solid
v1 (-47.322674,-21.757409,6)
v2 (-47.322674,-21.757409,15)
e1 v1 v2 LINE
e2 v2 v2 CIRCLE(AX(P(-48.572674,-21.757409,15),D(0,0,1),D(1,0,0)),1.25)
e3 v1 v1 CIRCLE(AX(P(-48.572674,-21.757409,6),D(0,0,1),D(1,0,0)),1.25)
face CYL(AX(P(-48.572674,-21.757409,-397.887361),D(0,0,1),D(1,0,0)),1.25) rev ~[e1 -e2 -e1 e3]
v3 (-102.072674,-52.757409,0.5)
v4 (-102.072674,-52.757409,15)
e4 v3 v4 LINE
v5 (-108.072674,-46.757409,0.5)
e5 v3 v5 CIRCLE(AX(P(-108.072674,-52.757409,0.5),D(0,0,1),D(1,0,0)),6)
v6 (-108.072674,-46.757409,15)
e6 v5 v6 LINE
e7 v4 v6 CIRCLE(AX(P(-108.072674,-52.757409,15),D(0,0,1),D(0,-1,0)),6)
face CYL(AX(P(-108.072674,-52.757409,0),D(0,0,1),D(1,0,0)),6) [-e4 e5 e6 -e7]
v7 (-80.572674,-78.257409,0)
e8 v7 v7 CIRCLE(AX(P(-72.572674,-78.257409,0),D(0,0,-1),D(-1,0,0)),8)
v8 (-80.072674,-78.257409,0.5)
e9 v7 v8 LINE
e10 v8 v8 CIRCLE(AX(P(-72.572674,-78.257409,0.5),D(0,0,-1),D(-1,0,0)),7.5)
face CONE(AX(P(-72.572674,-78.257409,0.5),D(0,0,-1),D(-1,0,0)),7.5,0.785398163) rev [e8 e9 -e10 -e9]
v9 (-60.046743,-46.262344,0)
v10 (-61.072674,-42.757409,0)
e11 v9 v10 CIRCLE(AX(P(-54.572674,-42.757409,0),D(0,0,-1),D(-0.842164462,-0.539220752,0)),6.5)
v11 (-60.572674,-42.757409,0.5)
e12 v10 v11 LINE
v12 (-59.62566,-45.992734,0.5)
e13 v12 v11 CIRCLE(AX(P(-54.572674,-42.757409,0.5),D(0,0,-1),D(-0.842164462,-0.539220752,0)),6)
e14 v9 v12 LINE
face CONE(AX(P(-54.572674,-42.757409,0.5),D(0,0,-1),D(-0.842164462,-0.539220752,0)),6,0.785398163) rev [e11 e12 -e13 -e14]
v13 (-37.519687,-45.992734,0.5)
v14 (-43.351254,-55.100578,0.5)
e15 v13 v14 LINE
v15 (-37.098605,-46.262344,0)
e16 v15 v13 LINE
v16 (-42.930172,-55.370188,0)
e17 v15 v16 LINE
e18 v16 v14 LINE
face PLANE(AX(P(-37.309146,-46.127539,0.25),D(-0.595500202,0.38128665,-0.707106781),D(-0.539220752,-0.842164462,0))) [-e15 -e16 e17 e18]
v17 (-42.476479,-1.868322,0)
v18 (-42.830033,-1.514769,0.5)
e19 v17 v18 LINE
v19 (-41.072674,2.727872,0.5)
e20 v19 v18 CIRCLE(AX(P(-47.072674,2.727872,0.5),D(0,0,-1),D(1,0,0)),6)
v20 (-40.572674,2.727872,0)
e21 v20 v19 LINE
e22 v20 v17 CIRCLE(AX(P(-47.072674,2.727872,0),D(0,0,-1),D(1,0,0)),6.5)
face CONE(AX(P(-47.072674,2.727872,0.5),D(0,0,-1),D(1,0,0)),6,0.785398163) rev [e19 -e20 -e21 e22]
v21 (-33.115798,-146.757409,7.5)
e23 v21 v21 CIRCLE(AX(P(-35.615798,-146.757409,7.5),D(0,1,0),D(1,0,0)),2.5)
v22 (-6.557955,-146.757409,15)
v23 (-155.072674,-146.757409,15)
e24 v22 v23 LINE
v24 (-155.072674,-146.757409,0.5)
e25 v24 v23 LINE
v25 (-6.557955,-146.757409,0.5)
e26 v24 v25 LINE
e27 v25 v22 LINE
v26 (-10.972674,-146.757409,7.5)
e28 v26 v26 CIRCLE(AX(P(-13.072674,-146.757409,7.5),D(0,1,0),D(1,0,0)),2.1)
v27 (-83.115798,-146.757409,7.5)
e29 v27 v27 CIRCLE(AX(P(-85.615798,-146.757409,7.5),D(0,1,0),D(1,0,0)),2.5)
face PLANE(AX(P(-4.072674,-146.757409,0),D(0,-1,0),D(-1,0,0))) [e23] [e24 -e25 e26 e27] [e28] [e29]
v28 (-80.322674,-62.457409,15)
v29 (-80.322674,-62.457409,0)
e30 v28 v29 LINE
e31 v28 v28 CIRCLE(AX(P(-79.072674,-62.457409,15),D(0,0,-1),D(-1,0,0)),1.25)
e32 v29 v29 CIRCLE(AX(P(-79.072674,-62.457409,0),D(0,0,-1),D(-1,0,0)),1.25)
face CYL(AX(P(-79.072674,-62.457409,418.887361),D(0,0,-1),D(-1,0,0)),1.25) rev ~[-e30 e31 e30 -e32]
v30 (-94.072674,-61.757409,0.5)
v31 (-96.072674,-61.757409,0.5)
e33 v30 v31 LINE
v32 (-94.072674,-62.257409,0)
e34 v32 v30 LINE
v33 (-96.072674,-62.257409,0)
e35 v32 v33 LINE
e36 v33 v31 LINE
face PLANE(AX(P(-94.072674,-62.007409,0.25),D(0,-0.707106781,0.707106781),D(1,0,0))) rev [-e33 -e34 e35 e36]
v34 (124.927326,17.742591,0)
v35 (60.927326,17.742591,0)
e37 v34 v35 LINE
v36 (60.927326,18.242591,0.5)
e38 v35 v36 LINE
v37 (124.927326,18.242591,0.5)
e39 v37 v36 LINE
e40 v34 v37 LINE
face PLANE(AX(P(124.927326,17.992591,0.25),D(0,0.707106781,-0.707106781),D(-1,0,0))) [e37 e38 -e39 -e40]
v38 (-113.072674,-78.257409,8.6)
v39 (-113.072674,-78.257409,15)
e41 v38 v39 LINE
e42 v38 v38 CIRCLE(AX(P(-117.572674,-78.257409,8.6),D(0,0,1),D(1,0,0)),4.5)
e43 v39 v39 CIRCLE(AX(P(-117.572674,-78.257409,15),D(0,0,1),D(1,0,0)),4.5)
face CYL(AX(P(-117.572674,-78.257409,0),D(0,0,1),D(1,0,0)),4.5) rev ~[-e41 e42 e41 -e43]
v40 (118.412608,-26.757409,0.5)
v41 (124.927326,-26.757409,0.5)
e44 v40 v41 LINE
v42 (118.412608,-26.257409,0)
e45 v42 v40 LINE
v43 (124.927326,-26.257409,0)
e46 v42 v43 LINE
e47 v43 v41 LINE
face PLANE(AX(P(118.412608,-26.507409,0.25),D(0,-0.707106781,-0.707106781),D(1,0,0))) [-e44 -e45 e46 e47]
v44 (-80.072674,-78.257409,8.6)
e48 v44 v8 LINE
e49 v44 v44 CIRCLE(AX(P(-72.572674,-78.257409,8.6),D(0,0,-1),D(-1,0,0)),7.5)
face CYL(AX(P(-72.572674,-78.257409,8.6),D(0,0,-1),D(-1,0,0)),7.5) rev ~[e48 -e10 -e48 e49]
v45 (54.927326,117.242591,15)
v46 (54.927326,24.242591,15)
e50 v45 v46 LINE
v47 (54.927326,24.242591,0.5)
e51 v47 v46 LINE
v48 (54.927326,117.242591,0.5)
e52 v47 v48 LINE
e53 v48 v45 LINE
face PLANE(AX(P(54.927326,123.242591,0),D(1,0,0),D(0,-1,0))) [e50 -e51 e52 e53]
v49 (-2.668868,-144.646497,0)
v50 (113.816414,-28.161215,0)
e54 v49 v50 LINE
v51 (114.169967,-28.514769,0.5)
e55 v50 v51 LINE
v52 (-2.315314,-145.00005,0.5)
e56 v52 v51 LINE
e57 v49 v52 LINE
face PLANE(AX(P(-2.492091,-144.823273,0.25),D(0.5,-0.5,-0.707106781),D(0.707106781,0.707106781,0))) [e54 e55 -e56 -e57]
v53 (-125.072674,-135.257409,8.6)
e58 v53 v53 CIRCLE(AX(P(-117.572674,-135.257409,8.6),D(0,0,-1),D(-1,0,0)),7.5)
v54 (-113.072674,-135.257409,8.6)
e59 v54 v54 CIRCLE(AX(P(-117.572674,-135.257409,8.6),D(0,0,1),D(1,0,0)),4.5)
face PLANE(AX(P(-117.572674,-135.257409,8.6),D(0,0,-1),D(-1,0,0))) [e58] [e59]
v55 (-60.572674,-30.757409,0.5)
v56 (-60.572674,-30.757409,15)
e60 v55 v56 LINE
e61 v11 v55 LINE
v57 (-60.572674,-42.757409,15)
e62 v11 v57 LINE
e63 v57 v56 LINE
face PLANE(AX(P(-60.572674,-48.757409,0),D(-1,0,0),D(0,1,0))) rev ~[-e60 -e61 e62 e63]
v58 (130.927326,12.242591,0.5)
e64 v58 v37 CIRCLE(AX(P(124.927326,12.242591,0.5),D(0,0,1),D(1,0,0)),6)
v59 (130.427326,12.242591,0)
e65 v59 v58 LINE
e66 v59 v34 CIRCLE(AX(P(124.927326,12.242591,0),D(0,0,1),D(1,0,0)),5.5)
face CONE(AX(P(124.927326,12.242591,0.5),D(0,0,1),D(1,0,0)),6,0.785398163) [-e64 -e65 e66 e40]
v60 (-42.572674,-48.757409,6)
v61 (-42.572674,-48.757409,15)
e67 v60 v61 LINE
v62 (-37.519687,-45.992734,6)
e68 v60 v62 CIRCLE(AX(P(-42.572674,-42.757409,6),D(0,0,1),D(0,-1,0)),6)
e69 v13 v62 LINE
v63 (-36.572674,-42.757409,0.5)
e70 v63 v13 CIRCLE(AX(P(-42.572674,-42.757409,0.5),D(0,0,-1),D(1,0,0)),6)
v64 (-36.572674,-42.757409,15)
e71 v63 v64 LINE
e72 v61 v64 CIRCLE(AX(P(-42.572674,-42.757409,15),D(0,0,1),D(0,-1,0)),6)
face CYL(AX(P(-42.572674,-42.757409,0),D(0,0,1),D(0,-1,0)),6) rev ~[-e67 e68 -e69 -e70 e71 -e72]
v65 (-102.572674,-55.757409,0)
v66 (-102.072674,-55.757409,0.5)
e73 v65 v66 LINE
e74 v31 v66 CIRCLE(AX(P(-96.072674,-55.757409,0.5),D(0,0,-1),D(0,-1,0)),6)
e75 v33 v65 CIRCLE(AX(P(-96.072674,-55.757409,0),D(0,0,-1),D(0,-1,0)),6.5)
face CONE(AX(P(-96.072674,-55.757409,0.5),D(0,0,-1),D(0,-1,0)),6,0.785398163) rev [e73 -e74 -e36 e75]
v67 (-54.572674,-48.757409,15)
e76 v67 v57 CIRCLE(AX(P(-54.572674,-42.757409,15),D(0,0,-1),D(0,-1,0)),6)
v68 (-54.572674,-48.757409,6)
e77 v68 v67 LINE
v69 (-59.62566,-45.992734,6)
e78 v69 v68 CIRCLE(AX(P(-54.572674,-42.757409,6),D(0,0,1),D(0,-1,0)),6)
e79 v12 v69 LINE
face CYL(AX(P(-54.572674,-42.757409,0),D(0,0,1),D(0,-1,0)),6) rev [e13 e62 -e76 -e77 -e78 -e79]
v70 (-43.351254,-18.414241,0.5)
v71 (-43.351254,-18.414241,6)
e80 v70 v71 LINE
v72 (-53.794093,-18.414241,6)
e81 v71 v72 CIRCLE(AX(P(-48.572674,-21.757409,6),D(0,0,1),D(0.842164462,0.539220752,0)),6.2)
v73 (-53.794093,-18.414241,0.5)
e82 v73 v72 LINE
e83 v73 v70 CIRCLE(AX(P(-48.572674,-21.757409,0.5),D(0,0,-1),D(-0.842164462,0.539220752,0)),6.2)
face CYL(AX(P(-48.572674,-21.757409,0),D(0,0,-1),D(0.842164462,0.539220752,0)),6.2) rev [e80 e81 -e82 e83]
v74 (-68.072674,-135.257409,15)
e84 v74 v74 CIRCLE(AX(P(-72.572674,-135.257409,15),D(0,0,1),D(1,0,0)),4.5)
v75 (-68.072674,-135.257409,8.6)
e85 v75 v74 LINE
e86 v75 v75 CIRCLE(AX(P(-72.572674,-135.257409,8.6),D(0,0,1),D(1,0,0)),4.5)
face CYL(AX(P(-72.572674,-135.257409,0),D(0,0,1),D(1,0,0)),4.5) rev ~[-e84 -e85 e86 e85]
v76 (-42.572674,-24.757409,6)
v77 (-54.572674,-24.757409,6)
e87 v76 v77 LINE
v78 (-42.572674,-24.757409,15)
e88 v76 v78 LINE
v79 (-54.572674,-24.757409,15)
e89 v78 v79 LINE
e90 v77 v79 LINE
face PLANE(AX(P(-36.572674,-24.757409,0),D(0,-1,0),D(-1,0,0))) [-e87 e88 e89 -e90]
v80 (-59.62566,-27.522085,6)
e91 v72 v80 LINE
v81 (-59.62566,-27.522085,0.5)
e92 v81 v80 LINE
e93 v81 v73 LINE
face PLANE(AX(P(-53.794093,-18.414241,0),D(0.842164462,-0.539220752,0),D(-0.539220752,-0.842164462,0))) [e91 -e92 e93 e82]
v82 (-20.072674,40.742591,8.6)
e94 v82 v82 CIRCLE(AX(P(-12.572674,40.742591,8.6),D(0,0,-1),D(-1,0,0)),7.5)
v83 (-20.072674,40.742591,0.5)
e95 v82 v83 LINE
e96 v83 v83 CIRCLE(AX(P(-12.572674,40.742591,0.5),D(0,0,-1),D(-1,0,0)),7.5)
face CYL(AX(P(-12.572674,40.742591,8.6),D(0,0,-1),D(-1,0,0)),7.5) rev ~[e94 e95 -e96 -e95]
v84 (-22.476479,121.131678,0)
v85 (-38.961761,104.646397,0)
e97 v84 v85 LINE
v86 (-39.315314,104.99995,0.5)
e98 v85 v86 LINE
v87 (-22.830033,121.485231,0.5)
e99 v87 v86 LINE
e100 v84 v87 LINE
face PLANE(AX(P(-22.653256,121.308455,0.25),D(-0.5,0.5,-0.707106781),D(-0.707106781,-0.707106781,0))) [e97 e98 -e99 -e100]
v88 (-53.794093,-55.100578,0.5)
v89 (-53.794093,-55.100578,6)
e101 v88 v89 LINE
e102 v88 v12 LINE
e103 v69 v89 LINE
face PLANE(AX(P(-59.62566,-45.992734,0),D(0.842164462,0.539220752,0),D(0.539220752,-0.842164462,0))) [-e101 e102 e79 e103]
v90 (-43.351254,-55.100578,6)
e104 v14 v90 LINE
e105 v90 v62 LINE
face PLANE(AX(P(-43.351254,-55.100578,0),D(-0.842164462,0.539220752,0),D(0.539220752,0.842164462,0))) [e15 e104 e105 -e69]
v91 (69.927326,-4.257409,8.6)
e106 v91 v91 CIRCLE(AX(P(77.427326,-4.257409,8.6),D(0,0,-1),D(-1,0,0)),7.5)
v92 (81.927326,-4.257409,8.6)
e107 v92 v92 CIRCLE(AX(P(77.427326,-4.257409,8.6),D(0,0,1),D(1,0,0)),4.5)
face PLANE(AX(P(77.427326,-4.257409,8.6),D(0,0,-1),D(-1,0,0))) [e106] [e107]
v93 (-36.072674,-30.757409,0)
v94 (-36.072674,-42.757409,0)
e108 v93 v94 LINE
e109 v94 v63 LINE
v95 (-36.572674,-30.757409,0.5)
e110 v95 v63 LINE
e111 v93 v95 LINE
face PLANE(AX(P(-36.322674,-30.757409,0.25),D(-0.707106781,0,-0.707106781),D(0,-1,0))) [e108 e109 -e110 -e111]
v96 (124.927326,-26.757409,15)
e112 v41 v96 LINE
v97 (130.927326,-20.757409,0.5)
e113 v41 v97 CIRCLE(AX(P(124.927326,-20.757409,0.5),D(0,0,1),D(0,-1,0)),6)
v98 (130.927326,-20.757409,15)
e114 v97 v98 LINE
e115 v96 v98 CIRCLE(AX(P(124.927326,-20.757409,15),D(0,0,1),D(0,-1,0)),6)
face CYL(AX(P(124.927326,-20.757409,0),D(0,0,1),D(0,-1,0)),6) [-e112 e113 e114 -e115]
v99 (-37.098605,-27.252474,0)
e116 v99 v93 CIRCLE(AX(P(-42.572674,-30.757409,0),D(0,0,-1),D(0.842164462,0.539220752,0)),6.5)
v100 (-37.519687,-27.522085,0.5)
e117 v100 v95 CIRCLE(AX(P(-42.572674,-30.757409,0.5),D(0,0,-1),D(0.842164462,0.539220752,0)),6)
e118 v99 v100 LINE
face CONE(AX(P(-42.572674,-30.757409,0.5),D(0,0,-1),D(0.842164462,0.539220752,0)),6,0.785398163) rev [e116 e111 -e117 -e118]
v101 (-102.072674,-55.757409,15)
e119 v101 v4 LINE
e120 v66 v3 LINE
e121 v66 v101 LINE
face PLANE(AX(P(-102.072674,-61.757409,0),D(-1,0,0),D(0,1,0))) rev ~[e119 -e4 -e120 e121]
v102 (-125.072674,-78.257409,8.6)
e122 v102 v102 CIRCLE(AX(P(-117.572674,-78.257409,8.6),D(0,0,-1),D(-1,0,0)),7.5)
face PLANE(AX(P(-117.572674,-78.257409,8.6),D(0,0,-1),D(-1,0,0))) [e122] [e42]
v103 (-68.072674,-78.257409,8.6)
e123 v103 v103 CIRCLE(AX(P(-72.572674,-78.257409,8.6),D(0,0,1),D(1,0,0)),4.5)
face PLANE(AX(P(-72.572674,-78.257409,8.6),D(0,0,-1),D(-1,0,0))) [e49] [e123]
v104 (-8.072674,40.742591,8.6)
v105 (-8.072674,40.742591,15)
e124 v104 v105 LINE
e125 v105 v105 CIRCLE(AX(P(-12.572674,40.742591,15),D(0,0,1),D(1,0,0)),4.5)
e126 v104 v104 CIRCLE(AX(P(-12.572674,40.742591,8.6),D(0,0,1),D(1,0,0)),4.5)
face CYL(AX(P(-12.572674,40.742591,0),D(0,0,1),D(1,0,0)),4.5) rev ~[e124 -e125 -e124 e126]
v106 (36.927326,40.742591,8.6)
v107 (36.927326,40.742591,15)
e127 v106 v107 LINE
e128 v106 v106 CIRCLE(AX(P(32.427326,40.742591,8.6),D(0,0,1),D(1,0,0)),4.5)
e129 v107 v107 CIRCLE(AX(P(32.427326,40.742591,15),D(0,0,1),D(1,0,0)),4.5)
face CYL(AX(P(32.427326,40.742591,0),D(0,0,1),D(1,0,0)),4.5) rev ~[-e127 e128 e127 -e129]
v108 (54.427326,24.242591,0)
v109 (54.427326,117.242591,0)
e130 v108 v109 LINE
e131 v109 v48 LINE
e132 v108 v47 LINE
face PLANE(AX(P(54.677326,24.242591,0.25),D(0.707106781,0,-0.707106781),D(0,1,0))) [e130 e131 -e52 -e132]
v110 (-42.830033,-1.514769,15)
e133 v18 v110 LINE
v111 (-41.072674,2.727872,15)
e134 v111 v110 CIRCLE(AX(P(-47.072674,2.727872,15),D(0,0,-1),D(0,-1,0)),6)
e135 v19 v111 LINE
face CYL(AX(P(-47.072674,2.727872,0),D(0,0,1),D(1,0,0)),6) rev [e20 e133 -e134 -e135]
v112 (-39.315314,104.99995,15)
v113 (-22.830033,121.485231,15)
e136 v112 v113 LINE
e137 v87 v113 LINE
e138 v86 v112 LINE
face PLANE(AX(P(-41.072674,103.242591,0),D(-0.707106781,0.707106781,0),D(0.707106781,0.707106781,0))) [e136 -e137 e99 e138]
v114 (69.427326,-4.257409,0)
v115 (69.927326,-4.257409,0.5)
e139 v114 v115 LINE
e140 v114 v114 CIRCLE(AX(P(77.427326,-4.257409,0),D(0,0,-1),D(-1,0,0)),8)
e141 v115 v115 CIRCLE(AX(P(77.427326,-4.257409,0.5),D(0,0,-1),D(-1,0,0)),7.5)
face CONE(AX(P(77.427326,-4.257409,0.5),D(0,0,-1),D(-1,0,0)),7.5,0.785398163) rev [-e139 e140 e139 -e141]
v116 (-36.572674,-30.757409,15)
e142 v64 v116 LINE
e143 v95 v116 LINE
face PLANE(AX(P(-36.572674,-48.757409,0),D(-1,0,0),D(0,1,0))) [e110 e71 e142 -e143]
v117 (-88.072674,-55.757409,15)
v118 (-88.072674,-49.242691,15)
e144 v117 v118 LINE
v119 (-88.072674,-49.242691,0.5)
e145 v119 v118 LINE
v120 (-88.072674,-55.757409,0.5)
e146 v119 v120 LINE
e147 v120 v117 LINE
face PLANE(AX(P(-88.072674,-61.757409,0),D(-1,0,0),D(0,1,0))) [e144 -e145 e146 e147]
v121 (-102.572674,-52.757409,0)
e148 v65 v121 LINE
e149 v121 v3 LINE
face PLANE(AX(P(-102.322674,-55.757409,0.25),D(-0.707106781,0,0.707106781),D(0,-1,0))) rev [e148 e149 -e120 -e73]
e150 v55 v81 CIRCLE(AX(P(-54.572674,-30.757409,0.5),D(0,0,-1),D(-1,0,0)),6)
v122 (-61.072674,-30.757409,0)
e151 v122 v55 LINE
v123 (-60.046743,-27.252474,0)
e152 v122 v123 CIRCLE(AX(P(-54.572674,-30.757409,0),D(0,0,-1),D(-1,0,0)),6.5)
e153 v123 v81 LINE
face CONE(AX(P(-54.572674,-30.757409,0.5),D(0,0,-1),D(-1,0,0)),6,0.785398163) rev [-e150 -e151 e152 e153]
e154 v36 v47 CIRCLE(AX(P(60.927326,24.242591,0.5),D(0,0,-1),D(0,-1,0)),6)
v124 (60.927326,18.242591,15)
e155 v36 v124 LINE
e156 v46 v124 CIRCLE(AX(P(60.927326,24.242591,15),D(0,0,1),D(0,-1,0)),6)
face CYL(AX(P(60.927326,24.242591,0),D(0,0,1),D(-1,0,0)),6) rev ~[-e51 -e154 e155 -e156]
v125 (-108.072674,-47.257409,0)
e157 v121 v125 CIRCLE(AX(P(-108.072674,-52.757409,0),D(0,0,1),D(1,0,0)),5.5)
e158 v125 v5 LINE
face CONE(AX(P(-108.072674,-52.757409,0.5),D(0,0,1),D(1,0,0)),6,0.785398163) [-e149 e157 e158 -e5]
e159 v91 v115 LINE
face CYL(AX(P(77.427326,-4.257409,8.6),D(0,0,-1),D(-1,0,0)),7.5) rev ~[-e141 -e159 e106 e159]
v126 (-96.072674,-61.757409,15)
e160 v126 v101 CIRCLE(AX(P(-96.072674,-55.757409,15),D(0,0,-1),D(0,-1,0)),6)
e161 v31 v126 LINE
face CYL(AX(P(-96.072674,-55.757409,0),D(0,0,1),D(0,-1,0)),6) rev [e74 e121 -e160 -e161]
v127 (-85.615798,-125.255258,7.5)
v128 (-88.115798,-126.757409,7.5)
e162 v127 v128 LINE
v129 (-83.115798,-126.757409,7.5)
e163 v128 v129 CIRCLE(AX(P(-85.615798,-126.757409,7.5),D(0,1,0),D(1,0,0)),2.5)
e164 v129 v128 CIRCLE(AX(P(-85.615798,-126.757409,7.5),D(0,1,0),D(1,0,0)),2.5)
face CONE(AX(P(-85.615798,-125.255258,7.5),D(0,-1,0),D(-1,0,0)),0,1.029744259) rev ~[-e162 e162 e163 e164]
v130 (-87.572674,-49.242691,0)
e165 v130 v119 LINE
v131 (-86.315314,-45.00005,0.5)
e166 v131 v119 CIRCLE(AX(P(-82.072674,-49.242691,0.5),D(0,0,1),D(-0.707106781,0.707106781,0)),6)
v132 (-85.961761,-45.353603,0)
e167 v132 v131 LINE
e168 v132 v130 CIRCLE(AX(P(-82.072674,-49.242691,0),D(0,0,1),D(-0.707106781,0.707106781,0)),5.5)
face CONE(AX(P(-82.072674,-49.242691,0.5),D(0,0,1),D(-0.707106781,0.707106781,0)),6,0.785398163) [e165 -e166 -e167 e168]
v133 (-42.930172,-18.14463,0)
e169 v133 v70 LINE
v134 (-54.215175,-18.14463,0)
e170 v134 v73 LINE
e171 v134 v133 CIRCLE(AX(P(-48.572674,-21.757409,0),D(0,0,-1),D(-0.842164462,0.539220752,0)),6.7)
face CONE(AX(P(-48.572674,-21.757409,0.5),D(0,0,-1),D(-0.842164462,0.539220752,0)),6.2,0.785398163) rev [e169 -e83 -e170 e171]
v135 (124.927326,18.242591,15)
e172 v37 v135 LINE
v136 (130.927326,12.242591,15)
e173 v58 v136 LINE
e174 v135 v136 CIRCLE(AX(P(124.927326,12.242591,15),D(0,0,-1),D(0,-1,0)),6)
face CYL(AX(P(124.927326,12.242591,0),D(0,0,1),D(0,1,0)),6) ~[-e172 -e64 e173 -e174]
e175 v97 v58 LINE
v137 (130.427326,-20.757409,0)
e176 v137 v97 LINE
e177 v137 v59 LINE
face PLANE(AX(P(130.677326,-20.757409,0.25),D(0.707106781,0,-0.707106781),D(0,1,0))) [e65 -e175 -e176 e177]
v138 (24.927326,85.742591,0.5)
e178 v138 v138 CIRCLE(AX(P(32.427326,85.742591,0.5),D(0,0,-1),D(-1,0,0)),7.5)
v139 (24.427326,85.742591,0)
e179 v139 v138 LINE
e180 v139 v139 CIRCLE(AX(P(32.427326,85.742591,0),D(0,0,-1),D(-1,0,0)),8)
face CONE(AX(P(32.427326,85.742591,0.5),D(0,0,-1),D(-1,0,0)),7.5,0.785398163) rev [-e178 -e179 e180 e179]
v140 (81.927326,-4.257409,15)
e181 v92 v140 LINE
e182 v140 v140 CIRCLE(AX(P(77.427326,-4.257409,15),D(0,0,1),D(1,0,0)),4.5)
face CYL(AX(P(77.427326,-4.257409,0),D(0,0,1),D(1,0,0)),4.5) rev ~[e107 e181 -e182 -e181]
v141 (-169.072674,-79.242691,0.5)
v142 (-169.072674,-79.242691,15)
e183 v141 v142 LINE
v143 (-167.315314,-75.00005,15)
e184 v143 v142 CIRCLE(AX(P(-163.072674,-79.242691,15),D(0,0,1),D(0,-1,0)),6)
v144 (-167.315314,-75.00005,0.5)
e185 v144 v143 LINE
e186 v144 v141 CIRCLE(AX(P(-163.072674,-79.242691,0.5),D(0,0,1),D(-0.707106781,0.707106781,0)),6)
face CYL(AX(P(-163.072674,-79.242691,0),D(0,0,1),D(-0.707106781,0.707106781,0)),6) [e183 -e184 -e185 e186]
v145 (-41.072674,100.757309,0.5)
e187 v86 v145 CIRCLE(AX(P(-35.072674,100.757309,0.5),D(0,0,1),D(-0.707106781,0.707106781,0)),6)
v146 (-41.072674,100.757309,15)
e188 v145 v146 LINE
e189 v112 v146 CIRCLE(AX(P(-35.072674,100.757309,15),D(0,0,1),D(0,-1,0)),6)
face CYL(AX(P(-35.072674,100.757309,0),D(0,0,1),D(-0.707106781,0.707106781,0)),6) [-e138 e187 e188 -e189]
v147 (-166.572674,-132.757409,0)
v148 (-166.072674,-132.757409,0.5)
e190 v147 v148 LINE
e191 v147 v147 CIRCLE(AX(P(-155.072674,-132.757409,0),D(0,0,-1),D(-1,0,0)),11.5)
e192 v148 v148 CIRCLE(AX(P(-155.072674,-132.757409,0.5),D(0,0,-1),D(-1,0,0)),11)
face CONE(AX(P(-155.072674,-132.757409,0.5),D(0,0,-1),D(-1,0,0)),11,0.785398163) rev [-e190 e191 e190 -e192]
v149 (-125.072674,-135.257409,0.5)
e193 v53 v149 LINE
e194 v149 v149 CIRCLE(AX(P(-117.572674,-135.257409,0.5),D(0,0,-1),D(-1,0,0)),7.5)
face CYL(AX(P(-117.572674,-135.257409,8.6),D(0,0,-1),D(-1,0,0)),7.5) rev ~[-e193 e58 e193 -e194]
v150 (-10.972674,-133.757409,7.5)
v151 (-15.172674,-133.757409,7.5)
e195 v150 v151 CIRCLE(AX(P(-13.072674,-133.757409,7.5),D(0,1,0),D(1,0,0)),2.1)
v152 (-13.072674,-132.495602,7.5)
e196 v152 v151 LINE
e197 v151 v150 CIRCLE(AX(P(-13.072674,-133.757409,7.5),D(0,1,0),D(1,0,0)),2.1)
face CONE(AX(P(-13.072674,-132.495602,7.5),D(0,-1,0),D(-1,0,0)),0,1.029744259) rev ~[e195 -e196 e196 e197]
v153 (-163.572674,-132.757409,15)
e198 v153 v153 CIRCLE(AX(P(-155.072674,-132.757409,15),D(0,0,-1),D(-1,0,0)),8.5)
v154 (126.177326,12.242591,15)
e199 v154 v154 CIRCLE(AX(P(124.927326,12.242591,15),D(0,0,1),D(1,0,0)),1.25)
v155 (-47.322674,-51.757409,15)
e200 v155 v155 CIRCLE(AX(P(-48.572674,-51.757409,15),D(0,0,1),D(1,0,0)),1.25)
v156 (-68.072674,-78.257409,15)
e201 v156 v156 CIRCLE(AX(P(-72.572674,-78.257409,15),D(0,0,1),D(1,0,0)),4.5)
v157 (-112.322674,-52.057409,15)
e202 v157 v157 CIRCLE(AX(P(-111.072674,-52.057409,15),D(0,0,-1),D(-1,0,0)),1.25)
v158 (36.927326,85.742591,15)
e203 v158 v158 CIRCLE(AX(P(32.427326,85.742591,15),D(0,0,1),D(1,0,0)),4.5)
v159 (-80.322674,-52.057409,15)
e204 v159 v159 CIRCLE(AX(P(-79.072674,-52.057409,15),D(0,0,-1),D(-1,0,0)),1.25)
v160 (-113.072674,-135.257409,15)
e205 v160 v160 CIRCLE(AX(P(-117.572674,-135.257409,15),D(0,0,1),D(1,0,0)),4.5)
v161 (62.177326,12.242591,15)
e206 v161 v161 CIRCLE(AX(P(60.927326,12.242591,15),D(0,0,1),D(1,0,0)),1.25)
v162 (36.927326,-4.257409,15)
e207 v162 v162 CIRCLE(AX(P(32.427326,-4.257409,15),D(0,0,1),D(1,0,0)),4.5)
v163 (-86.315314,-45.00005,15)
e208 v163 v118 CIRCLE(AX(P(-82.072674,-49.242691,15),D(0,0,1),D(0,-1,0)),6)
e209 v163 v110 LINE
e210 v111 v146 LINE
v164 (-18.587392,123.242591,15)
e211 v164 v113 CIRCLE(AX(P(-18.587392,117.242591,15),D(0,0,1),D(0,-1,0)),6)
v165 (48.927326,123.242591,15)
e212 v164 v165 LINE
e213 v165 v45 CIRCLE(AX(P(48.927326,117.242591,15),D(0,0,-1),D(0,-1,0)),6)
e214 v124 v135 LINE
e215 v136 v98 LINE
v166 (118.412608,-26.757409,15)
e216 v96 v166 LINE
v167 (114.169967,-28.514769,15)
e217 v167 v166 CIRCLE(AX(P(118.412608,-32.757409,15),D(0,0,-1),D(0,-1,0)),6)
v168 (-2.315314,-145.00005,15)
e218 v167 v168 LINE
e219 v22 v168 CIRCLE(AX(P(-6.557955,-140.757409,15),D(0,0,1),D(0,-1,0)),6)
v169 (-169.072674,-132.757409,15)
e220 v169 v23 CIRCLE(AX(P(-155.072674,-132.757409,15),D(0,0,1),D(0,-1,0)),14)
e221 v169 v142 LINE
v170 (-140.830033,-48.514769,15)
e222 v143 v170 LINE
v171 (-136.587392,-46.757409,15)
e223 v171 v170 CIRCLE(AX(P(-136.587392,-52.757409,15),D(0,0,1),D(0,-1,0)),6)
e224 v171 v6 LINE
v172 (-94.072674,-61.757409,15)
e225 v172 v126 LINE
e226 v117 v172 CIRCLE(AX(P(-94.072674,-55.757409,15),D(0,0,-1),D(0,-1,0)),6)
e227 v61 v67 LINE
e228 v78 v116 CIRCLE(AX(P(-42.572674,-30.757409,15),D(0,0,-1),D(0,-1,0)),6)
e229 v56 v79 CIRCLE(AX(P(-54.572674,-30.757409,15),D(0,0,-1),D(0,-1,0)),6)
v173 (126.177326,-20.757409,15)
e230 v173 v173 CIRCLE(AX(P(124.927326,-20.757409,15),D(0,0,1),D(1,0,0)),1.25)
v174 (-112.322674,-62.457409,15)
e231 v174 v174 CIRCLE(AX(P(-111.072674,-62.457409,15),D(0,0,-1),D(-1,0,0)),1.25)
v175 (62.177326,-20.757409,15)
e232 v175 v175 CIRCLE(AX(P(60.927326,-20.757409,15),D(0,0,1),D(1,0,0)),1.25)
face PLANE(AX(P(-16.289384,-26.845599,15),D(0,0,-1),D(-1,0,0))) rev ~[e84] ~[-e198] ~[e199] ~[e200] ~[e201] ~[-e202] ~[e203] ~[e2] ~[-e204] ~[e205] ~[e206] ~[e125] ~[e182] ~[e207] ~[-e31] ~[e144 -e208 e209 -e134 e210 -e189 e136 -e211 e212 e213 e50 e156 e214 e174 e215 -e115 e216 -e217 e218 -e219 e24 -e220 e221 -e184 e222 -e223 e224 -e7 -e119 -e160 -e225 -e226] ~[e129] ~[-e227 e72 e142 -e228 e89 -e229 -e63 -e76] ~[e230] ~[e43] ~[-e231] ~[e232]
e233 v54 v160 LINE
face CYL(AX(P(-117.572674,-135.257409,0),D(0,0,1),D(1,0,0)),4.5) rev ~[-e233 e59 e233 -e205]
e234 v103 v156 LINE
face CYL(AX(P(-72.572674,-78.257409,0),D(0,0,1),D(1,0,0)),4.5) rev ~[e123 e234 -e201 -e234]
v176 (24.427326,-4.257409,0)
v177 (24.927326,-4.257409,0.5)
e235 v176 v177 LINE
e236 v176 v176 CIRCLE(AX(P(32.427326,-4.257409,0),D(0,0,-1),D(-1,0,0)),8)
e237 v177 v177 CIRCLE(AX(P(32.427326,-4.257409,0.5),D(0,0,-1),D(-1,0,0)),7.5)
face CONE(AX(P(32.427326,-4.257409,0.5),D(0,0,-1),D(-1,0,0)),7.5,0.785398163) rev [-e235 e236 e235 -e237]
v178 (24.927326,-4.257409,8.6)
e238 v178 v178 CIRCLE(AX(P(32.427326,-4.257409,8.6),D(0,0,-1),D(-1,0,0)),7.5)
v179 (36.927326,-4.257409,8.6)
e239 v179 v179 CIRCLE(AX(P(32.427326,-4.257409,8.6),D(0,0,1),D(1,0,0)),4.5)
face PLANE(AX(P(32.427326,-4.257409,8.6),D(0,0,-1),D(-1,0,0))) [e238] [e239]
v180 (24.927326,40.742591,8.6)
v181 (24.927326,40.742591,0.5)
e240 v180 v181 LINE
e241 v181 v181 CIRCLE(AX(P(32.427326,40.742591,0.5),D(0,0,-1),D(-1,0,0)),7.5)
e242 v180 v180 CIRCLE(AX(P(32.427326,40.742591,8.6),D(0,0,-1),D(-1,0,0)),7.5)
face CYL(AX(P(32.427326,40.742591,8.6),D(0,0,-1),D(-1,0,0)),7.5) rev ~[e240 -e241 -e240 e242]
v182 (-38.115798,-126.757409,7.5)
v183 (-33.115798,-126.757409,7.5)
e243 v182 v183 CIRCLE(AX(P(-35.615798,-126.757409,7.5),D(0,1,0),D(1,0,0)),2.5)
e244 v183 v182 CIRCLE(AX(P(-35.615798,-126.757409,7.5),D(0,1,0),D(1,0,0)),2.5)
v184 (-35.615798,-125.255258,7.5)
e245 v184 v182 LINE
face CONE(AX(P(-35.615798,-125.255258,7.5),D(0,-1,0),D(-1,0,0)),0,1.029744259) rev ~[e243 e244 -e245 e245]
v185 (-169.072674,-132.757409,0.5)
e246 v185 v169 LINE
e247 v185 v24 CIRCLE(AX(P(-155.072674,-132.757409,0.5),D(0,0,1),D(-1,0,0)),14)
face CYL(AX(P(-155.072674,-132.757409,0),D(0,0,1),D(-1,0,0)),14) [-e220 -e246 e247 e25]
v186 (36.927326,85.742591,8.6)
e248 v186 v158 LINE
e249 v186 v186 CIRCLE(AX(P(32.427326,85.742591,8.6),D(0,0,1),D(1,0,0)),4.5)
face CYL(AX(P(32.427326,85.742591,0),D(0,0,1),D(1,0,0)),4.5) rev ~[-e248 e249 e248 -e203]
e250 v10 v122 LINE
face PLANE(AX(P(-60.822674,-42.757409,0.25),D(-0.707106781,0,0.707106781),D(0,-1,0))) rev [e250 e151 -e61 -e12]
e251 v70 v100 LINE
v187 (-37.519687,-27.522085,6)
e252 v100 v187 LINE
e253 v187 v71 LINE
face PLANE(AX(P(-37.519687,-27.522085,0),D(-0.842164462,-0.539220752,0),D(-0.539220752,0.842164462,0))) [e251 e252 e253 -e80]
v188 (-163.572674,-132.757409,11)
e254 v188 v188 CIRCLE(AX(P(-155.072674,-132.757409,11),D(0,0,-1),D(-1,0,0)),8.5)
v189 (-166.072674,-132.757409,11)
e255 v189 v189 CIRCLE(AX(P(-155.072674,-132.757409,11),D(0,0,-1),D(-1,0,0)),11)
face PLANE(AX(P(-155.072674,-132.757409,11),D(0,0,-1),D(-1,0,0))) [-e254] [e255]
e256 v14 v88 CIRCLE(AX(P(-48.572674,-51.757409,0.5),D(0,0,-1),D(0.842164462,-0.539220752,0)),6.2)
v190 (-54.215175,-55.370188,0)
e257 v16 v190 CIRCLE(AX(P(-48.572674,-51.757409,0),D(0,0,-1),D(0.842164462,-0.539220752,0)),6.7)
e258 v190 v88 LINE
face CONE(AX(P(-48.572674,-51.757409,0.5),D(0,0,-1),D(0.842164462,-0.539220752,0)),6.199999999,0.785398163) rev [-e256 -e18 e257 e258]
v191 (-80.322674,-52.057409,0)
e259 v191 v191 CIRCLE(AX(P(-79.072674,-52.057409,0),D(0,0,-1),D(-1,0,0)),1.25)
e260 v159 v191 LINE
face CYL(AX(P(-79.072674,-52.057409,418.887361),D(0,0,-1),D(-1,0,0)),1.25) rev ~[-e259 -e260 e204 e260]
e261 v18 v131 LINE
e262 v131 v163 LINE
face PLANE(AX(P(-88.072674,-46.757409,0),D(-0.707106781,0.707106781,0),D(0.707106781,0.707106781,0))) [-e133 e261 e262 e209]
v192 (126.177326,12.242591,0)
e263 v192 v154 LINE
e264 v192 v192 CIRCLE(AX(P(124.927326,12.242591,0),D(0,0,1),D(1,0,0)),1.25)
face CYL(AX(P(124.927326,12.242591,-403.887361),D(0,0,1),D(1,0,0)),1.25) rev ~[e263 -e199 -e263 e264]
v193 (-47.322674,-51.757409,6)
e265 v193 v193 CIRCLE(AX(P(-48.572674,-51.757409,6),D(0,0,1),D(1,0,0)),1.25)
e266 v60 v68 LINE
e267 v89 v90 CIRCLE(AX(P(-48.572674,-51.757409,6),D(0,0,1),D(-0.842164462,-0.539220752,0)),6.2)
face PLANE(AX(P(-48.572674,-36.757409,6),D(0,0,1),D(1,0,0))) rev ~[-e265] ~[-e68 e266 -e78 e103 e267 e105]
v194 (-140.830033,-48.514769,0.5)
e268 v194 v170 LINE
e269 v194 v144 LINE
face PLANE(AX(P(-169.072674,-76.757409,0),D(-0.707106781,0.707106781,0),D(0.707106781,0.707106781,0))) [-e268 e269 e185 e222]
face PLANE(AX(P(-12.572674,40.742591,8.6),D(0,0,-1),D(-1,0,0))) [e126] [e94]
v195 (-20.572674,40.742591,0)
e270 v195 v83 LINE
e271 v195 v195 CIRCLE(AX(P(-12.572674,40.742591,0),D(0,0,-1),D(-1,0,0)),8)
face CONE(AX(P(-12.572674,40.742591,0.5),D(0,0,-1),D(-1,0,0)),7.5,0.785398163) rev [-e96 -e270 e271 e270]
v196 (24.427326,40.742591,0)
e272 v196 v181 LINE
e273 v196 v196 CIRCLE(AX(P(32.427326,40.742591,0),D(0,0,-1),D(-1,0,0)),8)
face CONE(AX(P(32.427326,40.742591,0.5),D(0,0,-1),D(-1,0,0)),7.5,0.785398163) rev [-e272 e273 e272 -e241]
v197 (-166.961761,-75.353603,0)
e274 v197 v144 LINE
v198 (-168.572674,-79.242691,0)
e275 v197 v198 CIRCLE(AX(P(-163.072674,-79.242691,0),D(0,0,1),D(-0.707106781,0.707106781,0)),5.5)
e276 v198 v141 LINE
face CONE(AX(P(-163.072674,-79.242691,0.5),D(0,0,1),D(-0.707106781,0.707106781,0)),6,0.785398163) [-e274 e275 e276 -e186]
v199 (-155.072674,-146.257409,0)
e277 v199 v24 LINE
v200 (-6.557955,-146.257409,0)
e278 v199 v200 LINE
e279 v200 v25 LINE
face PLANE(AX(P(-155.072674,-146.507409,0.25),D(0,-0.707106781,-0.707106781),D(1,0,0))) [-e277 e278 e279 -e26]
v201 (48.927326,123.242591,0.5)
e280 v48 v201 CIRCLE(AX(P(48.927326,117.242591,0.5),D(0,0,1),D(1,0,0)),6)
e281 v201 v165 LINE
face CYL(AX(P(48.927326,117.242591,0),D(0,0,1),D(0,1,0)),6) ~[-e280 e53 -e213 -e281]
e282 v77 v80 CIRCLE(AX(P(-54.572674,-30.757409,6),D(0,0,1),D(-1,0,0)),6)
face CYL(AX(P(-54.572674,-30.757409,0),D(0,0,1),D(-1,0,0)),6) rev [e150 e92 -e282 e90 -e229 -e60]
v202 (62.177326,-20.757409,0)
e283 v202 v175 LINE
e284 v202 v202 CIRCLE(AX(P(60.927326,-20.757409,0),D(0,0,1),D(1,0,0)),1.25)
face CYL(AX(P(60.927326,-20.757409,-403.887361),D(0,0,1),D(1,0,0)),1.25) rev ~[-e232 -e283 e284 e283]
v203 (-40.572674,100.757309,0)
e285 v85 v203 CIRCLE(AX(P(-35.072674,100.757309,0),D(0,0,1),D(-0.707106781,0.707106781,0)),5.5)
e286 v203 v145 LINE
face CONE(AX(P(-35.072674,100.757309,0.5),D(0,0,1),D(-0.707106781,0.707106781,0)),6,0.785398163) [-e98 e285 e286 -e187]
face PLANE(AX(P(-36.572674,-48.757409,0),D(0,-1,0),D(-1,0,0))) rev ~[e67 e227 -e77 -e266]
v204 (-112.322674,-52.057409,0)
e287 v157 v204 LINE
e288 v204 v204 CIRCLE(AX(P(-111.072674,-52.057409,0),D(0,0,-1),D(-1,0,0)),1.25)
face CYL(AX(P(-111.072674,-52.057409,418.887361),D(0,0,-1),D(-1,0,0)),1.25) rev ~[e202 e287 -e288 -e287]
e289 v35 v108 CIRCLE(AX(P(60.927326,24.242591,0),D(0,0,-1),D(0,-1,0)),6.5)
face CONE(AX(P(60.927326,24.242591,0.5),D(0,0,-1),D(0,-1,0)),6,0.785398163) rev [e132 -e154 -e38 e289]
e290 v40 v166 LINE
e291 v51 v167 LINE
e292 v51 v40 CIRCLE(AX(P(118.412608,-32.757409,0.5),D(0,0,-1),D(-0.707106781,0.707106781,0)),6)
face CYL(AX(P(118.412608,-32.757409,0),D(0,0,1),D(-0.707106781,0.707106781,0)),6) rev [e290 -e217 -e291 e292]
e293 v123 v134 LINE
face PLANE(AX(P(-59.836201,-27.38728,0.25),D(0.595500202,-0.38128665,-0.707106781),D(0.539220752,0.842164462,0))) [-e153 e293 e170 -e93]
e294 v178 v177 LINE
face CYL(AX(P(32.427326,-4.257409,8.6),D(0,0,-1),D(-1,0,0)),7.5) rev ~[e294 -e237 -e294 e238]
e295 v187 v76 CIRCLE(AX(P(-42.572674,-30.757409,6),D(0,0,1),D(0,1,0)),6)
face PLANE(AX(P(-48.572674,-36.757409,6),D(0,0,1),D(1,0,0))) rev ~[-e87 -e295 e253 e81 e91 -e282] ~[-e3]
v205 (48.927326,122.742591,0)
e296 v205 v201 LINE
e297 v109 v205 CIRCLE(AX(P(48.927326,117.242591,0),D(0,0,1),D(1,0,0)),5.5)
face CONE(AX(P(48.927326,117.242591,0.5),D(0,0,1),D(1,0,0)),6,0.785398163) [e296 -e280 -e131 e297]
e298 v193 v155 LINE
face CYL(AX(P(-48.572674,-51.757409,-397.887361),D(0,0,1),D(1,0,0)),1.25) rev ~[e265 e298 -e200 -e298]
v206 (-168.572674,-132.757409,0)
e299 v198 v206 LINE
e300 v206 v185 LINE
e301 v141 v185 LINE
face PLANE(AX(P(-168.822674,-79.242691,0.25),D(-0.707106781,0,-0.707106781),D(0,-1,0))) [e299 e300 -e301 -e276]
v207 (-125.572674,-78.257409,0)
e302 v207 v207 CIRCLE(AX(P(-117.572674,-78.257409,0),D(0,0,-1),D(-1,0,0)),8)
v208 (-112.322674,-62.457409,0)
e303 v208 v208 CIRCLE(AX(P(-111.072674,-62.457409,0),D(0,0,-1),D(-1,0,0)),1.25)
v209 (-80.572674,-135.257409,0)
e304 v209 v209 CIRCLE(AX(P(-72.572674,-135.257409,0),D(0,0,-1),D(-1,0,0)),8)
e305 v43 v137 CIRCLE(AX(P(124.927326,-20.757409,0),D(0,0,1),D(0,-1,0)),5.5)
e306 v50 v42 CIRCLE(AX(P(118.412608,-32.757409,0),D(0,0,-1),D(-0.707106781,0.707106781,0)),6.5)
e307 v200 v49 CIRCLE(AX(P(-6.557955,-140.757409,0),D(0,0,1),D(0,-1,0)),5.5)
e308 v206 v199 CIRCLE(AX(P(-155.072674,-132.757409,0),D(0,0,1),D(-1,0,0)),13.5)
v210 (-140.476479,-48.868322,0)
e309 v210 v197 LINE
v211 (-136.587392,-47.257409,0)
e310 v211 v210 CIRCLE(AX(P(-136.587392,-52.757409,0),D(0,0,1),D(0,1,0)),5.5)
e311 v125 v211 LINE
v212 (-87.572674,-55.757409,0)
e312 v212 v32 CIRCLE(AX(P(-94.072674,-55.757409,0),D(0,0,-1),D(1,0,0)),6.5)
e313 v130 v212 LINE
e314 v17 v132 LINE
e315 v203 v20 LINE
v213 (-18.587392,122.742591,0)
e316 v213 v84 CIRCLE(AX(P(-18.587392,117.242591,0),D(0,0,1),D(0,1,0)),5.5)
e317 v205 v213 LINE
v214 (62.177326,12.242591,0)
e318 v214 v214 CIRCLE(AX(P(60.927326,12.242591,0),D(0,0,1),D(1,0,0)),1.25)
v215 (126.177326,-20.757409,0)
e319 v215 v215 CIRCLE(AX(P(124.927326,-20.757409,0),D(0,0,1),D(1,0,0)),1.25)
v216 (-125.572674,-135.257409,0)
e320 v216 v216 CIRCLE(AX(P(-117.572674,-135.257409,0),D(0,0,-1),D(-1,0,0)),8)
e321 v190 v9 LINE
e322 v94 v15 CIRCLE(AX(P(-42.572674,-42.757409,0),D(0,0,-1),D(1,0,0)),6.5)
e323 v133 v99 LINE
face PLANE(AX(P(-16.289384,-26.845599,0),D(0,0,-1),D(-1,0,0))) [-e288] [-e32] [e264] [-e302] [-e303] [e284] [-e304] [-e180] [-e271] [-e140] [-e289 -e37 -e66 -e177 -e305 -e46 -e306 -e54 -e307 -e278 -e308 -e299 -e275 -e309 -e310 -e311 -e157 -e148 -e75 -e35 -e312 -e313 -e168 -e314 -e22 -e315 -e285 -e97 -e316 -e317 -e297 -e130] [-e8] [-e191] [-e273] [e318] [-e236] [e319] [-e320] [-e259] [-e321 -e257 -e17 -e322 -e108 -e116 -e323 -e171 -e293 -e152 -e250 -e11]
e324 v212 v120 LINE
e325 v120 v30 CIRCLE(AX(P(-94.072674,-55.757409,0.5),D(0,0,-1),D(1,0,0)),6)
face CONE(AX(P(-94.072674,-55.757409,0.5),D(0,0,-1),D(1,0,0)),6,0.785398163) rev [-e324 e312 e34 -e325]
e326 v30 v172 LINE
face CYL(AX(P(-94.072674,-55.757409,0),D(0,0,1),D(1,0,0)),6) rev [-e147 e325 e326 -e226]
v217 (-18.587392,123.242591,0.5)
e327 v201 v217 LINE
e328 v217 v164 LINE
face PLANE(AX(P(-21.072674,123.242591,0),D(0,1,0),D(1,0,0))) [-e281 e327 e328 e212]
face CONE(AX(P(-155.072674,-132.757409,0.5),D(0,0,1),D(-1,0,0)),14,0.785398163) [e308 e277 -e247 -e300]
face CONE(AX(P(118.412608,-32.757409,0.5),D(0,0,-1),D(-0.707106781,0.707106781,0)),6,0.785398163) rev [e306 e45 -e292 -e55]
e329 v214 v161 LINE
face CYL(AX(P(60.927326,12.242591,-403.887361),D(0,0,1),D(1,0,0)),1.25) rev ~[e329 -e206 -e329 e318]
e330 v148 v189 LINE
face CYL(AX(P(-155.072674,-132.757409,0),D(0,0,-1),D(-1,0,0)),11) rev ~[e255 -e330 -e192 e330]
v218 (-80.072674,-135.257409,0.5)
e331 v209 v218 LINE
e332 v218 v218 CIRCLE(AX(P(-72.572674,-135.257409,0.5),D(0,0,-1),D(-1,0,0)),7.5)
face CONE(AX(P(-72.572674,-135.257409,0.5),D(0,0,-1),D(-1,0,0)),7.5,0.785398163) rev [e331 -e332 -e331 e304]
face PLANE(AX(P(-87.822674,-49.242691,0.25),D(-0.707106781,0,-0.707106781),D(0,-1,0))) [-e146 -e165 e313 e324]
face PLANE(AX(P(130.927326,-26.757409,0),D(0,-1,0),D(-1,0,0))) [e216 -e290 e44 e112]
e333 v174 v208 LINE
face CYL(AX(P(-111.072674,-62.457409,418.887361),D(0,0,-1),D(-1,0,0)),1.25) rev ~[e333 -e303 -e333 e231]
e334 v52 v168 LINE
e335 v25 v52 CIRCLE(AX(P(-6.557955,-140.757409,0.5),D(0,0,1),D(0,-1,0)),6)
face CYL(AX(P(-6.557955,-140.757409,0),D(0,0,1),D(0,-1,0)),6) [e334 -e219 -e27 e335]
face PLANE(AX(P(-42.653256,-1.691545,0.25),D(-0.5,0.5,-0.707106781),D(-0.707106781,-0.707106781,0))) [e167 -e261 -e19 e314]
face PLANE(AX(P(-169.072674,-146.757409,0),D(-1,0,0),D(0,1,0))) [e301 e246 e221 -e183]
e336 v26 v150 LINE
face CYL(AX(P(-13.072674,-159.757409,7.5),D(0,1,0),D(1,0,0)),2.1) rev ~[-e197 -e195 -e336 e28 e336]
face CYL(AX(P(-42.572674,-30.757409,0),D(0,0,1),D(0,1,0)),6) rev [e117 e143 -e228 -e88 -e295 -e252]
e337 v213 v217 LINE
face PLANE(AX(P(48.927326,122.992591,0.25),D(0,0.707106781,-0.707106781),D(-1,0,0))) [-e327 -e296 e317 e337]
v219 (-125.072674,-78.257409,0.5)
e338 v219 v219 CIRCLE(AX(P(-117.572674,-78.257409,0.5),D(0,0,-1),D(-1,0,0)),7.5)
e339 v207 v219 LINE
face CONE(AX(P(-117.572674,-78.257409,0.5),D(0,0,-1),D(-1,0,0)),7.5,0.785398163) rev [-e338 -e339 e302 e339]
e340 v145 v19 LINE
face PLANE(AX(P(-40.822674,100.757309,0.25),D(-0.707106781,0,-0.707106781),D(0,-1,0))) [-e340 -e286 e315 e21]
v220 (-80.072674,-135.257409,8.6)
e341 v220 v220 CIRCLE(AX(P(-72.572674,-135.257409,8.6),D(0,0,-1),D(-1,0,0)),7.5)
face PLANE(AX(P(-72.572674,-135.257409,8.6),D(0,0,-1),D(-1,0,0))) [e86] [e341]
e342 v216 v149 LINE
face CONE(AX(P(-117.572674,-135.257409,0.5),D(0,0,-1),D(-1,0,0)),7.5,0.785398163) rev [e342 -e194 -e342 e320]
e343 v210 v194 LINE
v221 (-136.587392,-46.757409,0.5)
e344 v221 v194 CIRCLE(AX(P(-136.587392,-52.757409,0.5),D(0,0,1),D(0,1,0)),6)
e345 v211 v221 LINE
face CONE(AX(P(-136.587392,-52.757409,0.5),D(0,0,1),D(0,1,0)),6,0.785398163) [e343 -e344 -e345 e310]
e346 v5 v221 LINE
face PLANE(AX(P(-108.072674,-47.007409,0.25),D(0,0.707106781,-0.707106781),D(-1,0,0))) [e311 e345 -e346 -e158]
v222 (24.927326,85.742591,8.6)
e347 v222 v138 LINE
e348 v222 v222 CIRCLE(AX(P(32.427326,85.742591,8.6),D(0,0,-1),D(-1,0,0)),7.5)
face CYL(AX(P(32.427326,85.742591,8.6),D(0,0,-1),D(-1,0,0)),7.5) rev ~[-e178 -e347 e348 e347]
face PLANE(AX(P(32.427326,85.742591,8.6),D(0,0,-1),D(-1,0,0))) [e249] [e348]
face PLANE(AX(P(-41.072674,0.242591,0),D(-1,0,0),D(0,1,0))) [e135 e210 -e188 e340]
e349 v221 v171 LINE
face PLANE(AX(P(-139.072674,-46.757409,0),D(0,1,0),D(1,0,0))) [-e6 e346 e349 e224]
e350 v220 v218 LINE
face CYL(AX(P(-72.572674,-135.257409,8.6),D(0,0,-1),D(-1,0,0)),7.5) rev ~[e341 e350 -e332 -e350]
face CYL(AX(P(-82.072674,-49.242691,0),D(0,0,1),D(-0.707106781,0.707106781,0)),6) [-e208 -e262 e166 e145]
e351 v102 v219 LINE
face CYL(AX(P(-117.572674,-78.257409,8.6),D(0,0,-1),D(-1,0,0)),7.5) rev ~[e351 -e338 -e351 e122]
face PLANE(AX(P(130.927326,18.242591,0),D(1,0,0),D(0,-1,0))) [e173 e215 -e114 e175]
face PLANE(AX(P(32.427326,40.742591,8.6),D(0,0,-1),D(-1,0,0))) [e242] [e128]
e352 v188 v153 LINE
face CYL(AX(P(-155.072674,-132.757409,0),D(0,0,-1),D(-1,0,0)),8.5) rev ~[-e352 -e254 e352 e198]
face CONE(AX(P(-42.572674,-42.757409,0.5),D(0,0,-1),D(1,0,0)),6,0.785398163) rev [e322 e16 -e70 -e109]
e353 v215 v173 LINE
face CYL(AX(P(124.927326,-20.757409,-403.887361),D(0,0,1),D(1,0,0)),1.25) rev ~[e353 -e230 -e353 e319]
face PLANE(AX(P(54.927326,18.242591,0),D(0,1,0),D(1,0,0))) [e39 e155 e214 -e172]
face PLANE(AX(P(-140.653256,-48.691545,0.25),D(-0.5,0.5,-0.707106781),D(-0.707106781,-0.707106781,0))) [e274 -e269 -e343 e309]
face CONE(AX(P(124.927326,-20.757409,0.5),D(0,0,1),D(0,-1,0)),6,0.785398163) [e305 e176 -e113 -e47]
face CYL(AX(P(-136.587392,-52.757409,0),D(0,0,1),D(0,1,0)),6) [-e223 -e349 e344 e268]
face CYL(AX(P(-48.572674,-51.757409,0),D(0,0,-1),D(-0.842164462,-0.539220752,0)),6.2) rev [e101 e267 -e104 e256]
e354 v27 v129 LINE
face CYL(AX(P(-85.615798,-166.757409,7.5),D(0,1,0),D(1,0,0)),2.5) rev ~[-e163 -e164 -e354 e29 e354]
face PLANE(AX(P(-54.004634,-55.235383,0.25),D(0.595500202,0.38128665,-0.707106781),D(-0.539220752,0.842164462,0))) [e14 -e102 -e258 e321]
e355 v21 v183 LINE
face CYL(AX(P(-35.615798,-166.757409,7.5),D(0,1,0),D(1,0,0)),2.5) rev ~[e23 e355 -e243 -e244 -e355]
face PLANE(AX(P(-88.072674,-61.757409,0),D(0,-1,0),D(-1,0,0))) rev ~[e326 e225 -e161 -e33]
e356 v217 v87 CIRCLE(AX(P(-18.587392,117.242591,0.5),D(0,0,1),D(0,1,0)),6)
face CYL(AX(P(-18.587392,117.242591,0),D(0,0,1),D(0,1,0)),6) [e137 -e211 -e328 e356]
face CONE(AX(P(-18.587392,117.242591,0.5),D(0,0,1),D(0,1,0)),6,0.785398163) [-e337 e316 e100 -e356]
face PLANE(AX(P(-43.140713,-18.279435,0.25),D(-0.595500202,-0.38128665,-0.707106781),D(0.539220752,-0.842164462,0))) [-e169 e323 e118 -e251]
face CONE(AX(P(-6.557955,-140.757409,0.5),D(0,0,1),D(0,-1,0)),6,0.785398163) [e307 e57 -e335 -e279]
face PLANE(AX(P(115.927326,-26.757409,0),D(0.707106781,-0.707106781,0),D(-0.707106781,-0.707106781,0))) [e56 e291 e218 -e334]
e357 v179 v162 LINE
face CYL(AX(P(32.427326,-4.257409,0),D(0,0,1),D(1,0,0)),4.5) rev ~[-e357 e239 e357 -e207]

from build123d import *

# Parameters (mm, degrees)
BOSS_EXTRU_1_DEPTH                                 = 15
CHAMBRAGE_POUR_VIS_T_TE_HEXAGONALE_M81_D           = 9
CHAMBRAGE_POUR_VIS_T_TE_HEXAGONALE_M81_CBORE_D     = 15
CHAMBRAGE_POUR_VIS_T_TE_HEXAGONALE_M81_CBORE_DEPTH = 8.6
TAP_DRILL_FOR_M5_TAP1_D                            = 4.2
TAP_DRILL_FOR_M5_TAP1_DEPTH                        = 13
TAP_DRILL_FOR_M5_TAP1_TIP                          = 1.2618073
SKETCH25_W                                         = 14
SKETCH25_H                                         = 15
CUT_EXTRUDE6_DEPTH                                 = 16
CONG_1_R                                           = 6
SKETCH11_R                                         = 8.5
CUT_EXTRUDE1_DEPTH                                 = 16
SKETCH12_R                                         = 11
CUT_EXTRUDE2_DEPTH                                 = 11
SKETCH13_W                                         = 24
SKETCH13_H                                         = 24
CUT_EXTRUDE3_DEPTH                                 = 16
FILLET1_R                                          = 6
CUT_EXTRUDE4_DEPTH                                 = 6
FILLET3_R                                          = 14
TAP_DRILL_FOR_M3_TAP1_D                            = 2.5
CHAMFER1_SIZE                                      = 0.5
TAP_DRILL_FOR_M3_TAP2_D                            = 2.5
TAP_DRILL_FOR_M3_TAP3_D                            = 2.5
TROU_POUR_TARAUDAGE_POUR_TROU_TARAUD_M6_D          = 5
TROU_POUR_TARAUDAGE_POUR_TROU_TARAUD_M6_DEPTH      = 20
TROU_POUR_TARAUDAGE_POUR_TROU_TARAUD_M6_TIP        = 1.502151548


with BuildPart() as part:
    # Esquisse1 → Boss.-Extru.1 (new body)
    with BuildSketch(Plane.XY):
        Polygon((-21.072673536, 123.242590707), (54.927326464, 123.242590707), (54.927326464, 18.242590707), (130.927326464, 18.242590707), (130.927326464, -26.757409293), (115.927326464, -26.757409293), (-4.072673536, -146.757409293), (-169.072673536, -146.757409293), (-169.072673536, -76.757409293), (-139.072673536, -46.757409293), (-88.072673536, -46.757409293), (-41.072673536, 0.242590707), (-41.072673536, 103.242590707), align=None)
    extrude(amount=BOSS_EXTRU_1_DEPTH)

    # Chambrage pour vis à tête hexagonale M81 (through all)
    with Locations(Plane(origin=(0, 0, 0), x_dir=(-1, 0, 0), z_dir=(0, 0, -1))):
        with Locations((72.572673536, -78.257409293), (117.572673536, -78.257409293), (72.572673536, -135.257409293), (117.572673536, -135.257409293), (-32.427326464, 85.742590707), (-32.427326464, 40.742590707), (-32.427326464, -4.257409293), (-77.427326464, -4.257409293), (12.572673536, 40.742590707)):
            CounterBoreHole(CHAMBRAGE_POUR_VIS_T_TE_HEXAGONALE_M81_D / 2, CHAMBRAGE_POUR_VIS_T_TE_HEXAGONALE_M81_CBORE_D / 2, CHAMBRAGE_POUR_VIS_T_TE_HEXAGONALE_M81_CBORE_DEPTH)

    # Tap Drill for M5 Tap1
    with Locations(Plane(origin=(0, -146.757409293, 0), x_dir=(-1, 0, 0), z_dir=(0, -1, 0))):
        with Locations((13.072673536, -7.5)):
            Hole(TAP_DRILL_FOR_M5_TAP1_D / 2, depth=TAP_DRILL_FOR_M5_TAP1_DEPTH)
            with Locations((0, 0, -(TAP_DRILL_FOR_M5_TAP1_DEPTH + TAP_DRILL_FOR_M5_TAP1_TIP / 2))):  # 118° drill point
                Cone(0, TAP_DRILL_FOR_M5_TAP1_D / 2, TAP_DRILL_FOR_M5_TAP1_TIP, mode=Mode.SUBTRACT)

    # Sketch25 → Cut-Extrude6 (cut, through all)
    with BuildSketch(Plane(origin=(0, 0, 0), x_dir=(-1, 0, 0), z_dir=(0, 0, -1))):
        with Locations((95.072673536, -54.257409293)):
            Rectangle(SKETCH25_W, SKETCH25_H)
    extrude(amount=-CUT_EXTRUDE6_DEPTH, mode=Mode.SUBTRACT)

    # Congé1
    cong_1_edges = [part.edges().sort_by_distance(p)[0] for p in [
        (-88.072673536, -61.757409293, 7.5),
        (-102.072673536, -46.757409293, 7.5),
        (-102.072673536, -61.757409293, 7.5),
        (54.927326464, 18.242590707, 7.5),
        (130.927326464, 18.242590707, 7.5),
        (130.927326464, -26.757409293, 7.5),
        (115.927326464, -26.757409293, 7.5),
        (-4.072673536, -146.757409293, 7.5),
        (-169.072673536, -76.757409293, 7.5),
        (-139.072673536, -46.757409293, 7.5),
        (-88.072673536, -46.757409293, 7.5),
        (-41.072673536, 0.242590707, 7.5),
        (-41.072673536, 103.242590707, 7.5),
        (-21.072673536, 123.242590707, 7.5),
        (54.927326464, 123.242590707, 7.5),
    ]]
    fillet(cong_1_edges, radius=CONG_1_R)

    # Sketch11 → Cut-Extrude1 (cut, through all)
    with BuildSketch(Plane(origin=(0, 0, 0), x_dir=(-1, 0, 0), z_dir=(0, 0, -1))):
        with Locations((155.072673536, -132.757409293)):
            Circle(SKETCH11_R)
    extrude(amount=-CUT_EXTRUDE1_DEPTH, mode=Mode.SUBTRACT)

    # Sketch12 → Cut-Extrude2 (cut)
    with BuildSketch(Plane(origin=(0, 0, 0), x_dir=(-1, 0, 0), z_dir=(0, 0, -1))):
        with Locations((155.072673536, -132.757409293)):
            Circle(SKETCH12_R)
    extrude(amount=-CUT_EXTRUDE2_DEPTH, mode=Mode.SUBTRACT)

    # Sketch13 → Cut-Extrude3 (cut, through all)
    with BuildSketch(Plane(origin=(0, 0, 0), x_dir=(-1, 0, 0), z_dir=(0, 0, -1))):
        with Locations((48.572673536, -36.757409293)):
            Rectangle(SKETCH13_W, SKETCH13_H)
    extrude(amount=-CUT_EXTRUDE3_DEPTH, mode=Mode.SUBTRACT)

    # Fillet1
    fillet1_edges = [part.edges().sort_by_distance(p)[0] for p in [
        (-36.572673536, -48.757409293, 7.5),
        (-36.572673536, -24.757409293, 7.5),
        (-60.572673536, -24.757409293, 7.5),
        (-60.572673536, -48.757409293, 7.5),
    ]]
    fillet(fillet1_edges, radius=FILLET1_R)

    # Sketch14 → Cut-Extrude4 (cut)
    with BuildSketch(Plane(origin=(0, 0, 0), x_dir=(-1, 0, 0), z_dir=(0, 0, -1))):
        with BuildLine():
            Line((53.794093198, -18.414240629), (59.625660306, -27.52208478))
            ThreePointArc((59.625660306, -27.52208478), (60.33105528, -29.071870895), (60.572673536, -30.757409293))
            Line((60.572673536, -30.757409293), (60.572673536, -42.757409293))
            ThreePointArc((60.572673536, -42.757409293), (60.33105528, -44.442947691), (59.625660306, -45.992733806))
            Line((59.625660306, -45.992733806), (53.794093198, -55.100577956))
            ThreePointArc((53.794093198, -55.100577956), (48.572673536, -57.957409293), (43.351253874, -55.100577956))
            Line((43.351253874, -55.100577956), (37.519686767, -45.992733806))
            ThreePointArc((37.519686767, -45.992733806), (36.814291792, -44.442947691), (36.572673536, -42.757409293))
            Line((36.572673536, -42.757409293), (36.572673536, -30.757409293))
            ThreePointArc((36.572673536, -30.757409293), (36.814291792, -29.071870895), (37.519686767, -27.52208478))
            Line((37.519686767, -27.52208478), (43.351253874, -18.414240629))
            ThreePointArc((43.351253874, -18.414240629), (48.572673536, -15.557409293), (53.794093198, -18.414240629))
        make_face()
    extrude(amount=-CUT_EXTRUDE4_DEPTH, mode=Mode.SUBTRACT)

    # Fillet3
    fillet3_edges = [part.edges().sort_by_distance(p)[0] for p in [
        (-169.072673536, -146.757409293, 7.5),
    ]]
    fillet(fillet3_edges, radius=FILLET3_R)

    # Tap Drill for M3 Tap1 (through all)
    with Locations(Plane(origin=(0, 0, 6), x_dir=(-1, 0, 0), z_dir=(0, 0, -1))):
        with Locations((48.572673536, -21.757409293), (48.572673536, -51.757409293)):
            Hole(TAP_DRILL_FOR_M3_TAP1_D / 2)

    # Chamfer1
    chamfer1_edges = [part.edges().sort_by_distance(p)[0] for p in [
        (-102.072673536, -54.257409293, 0),
        (-95.072673536, -61.757409293, 0),
        (-88.072673536, -52.50004998, 0),
        (-122.330032849, -46.757409293, 0),
        (-64.572673536, -23.257409293, 0),
        (-41.072673536, 51.742590707, 0),
        (-31.072673536, 113.242590707, 0),
        (15.169967151, 123.242590707, 0),
        (54.927326464, 70.742590707, 0),
        (92.927326464, 18.242590707, 0),
        (130.927326464, -4.257409293, 0),
        (121.669967151, -26.757409293, 0),
        (55.927326464, -86.757409293, 0),
        (-169.072673536, -106.00004998, 0),
        (-154.072673536, -61.757409293, 0),
        (53.169967151, 121.485231394, 0),
        (-20.883492756, 122.785867902, 0),
        (-138.883492756, -47.214132098, 0),
        (-168.615950731, -76.946590073, 0),
        (-40.615950731, 103.053409927, 0),
        (129.169967151, 16.485231394, 0),
        (129.169967151, -25.00004998, 0),
        (-4.261854316, -146.300686488, 0),
        (-87.615950731, -46.946590073, 0),
        (-103.830032849, -48.514768606, 0),
        (-100.315314223, -60.00004998, 0),
        (-89.830032849, -60.00004998, 0),
        (116.116507244, -27.214132098, 0),
        (-41.529396341, 0.431771487, 0),
        (56.684685777, 19.99995002, 0),
        (-144.072673536, -132.757409293, 0),
        (-60.572673536, -36.757409293, 0),
        (-36.572673536, -36.757409293, 0),
        (-60.33105528, -44.442947691, 0),
        (-36.814291792, -29.071870895, 0),
        (-60.33105528, -29.071870895, 0),
        (-36.814291792, -44.442947691, 0),
        (-56.709876752, -50.546655881, 0),
        (-40.43547032, -50.546655881, 0),
        (-48.572673536, -57.957409293, 0),
        (-40.43547032, -22.968162704, 0),
        (-56.709876752, -22.968162704, 0),
        (-48.572673536, -15.557409293, 0),
        (-80.815314223, -146.757409293, 0),
        (-164.972168473, -142.656904229, 0),
        (-5.072673536, 40.742590707, 0),
        (84.927326464, -4.257409293, 0),
        (39.927326464, -4.257409293, 0),
        (39.927326464, 40.742590707, 0),
        (39.927326464, 85.742590707, 0),
        (-110.072673536, -135.257409293, 0),
        (-65.072673536, -135.257409293, 0),
        (-110.072673536, -78.257409293, 0),
        (-65.072673536, -78.257409293, 0),
    ]]
    chamfer(chamfer1_edges, length=CHAMFER1_SIZE)

    # Tap Drill for M3 Tap2 (through all)
    with Locations(Plane(origin=(0, 0, 0), x_dir=(-1, 0, 0), z_dir=(0, 0, -1))):
        with Locations((-124.927326464, 12.242590707), (-124.927326464, -20.757409293), (-60.927326464, 12.242590707), (-60.927326464, -20.757409293)):
            Hole(TAP_DRILL_FOR_M3_TAP2_D / 2)

    # Tap Drill for M3 Tap3 (through all)
    with Locations(Plane.XY.offset(15)):
        with Locations((-111.072673536, -52.057409293), (-111.072673536, -62.457409293), (-79.072673536, -62.457409293), (-79.072673536, -52.057409293)):
            Hole(TAP_DRILL_FOR_M3_TAP3_D / 2)

    # Trou pour taraudage pour trou taraudé M61
    with Locations(Plane(origin=(0, -146.757409293, 0), x_dir=(-1, 0, 0), z_dir=(0, -1, 0))):
        with Locations((35.615798493, -7.5), (85.615798493, -7.5)):
            Hole(TROU_POUR_TARAUDAGE_POUR_TROU_TARAUD_M6_D / 2, depth=TROU_POUR_TARAUDAGE_POUR_TROU_TARAUD_M6_DEPTH)
            with Locations((0, 0, -(TROU_POUR_TARAUDAGE_POUR_TROU_TARAUD_M6_DEPTH + TROU_POUR_TARAUDAGE_POUR_TROU_TARAUD_M6_TIP / 2))):  # 118° drill point
                Cone(0, TROU_POUR_TARAUDAGE_POUR_TROU_TARAUD_M6_D / 2, TROU_POUR_TARAUDAGE_POUR_TROU_TARAUD_M6_TIP, mode=Mode.SUBTRACT)


solid = part.part
